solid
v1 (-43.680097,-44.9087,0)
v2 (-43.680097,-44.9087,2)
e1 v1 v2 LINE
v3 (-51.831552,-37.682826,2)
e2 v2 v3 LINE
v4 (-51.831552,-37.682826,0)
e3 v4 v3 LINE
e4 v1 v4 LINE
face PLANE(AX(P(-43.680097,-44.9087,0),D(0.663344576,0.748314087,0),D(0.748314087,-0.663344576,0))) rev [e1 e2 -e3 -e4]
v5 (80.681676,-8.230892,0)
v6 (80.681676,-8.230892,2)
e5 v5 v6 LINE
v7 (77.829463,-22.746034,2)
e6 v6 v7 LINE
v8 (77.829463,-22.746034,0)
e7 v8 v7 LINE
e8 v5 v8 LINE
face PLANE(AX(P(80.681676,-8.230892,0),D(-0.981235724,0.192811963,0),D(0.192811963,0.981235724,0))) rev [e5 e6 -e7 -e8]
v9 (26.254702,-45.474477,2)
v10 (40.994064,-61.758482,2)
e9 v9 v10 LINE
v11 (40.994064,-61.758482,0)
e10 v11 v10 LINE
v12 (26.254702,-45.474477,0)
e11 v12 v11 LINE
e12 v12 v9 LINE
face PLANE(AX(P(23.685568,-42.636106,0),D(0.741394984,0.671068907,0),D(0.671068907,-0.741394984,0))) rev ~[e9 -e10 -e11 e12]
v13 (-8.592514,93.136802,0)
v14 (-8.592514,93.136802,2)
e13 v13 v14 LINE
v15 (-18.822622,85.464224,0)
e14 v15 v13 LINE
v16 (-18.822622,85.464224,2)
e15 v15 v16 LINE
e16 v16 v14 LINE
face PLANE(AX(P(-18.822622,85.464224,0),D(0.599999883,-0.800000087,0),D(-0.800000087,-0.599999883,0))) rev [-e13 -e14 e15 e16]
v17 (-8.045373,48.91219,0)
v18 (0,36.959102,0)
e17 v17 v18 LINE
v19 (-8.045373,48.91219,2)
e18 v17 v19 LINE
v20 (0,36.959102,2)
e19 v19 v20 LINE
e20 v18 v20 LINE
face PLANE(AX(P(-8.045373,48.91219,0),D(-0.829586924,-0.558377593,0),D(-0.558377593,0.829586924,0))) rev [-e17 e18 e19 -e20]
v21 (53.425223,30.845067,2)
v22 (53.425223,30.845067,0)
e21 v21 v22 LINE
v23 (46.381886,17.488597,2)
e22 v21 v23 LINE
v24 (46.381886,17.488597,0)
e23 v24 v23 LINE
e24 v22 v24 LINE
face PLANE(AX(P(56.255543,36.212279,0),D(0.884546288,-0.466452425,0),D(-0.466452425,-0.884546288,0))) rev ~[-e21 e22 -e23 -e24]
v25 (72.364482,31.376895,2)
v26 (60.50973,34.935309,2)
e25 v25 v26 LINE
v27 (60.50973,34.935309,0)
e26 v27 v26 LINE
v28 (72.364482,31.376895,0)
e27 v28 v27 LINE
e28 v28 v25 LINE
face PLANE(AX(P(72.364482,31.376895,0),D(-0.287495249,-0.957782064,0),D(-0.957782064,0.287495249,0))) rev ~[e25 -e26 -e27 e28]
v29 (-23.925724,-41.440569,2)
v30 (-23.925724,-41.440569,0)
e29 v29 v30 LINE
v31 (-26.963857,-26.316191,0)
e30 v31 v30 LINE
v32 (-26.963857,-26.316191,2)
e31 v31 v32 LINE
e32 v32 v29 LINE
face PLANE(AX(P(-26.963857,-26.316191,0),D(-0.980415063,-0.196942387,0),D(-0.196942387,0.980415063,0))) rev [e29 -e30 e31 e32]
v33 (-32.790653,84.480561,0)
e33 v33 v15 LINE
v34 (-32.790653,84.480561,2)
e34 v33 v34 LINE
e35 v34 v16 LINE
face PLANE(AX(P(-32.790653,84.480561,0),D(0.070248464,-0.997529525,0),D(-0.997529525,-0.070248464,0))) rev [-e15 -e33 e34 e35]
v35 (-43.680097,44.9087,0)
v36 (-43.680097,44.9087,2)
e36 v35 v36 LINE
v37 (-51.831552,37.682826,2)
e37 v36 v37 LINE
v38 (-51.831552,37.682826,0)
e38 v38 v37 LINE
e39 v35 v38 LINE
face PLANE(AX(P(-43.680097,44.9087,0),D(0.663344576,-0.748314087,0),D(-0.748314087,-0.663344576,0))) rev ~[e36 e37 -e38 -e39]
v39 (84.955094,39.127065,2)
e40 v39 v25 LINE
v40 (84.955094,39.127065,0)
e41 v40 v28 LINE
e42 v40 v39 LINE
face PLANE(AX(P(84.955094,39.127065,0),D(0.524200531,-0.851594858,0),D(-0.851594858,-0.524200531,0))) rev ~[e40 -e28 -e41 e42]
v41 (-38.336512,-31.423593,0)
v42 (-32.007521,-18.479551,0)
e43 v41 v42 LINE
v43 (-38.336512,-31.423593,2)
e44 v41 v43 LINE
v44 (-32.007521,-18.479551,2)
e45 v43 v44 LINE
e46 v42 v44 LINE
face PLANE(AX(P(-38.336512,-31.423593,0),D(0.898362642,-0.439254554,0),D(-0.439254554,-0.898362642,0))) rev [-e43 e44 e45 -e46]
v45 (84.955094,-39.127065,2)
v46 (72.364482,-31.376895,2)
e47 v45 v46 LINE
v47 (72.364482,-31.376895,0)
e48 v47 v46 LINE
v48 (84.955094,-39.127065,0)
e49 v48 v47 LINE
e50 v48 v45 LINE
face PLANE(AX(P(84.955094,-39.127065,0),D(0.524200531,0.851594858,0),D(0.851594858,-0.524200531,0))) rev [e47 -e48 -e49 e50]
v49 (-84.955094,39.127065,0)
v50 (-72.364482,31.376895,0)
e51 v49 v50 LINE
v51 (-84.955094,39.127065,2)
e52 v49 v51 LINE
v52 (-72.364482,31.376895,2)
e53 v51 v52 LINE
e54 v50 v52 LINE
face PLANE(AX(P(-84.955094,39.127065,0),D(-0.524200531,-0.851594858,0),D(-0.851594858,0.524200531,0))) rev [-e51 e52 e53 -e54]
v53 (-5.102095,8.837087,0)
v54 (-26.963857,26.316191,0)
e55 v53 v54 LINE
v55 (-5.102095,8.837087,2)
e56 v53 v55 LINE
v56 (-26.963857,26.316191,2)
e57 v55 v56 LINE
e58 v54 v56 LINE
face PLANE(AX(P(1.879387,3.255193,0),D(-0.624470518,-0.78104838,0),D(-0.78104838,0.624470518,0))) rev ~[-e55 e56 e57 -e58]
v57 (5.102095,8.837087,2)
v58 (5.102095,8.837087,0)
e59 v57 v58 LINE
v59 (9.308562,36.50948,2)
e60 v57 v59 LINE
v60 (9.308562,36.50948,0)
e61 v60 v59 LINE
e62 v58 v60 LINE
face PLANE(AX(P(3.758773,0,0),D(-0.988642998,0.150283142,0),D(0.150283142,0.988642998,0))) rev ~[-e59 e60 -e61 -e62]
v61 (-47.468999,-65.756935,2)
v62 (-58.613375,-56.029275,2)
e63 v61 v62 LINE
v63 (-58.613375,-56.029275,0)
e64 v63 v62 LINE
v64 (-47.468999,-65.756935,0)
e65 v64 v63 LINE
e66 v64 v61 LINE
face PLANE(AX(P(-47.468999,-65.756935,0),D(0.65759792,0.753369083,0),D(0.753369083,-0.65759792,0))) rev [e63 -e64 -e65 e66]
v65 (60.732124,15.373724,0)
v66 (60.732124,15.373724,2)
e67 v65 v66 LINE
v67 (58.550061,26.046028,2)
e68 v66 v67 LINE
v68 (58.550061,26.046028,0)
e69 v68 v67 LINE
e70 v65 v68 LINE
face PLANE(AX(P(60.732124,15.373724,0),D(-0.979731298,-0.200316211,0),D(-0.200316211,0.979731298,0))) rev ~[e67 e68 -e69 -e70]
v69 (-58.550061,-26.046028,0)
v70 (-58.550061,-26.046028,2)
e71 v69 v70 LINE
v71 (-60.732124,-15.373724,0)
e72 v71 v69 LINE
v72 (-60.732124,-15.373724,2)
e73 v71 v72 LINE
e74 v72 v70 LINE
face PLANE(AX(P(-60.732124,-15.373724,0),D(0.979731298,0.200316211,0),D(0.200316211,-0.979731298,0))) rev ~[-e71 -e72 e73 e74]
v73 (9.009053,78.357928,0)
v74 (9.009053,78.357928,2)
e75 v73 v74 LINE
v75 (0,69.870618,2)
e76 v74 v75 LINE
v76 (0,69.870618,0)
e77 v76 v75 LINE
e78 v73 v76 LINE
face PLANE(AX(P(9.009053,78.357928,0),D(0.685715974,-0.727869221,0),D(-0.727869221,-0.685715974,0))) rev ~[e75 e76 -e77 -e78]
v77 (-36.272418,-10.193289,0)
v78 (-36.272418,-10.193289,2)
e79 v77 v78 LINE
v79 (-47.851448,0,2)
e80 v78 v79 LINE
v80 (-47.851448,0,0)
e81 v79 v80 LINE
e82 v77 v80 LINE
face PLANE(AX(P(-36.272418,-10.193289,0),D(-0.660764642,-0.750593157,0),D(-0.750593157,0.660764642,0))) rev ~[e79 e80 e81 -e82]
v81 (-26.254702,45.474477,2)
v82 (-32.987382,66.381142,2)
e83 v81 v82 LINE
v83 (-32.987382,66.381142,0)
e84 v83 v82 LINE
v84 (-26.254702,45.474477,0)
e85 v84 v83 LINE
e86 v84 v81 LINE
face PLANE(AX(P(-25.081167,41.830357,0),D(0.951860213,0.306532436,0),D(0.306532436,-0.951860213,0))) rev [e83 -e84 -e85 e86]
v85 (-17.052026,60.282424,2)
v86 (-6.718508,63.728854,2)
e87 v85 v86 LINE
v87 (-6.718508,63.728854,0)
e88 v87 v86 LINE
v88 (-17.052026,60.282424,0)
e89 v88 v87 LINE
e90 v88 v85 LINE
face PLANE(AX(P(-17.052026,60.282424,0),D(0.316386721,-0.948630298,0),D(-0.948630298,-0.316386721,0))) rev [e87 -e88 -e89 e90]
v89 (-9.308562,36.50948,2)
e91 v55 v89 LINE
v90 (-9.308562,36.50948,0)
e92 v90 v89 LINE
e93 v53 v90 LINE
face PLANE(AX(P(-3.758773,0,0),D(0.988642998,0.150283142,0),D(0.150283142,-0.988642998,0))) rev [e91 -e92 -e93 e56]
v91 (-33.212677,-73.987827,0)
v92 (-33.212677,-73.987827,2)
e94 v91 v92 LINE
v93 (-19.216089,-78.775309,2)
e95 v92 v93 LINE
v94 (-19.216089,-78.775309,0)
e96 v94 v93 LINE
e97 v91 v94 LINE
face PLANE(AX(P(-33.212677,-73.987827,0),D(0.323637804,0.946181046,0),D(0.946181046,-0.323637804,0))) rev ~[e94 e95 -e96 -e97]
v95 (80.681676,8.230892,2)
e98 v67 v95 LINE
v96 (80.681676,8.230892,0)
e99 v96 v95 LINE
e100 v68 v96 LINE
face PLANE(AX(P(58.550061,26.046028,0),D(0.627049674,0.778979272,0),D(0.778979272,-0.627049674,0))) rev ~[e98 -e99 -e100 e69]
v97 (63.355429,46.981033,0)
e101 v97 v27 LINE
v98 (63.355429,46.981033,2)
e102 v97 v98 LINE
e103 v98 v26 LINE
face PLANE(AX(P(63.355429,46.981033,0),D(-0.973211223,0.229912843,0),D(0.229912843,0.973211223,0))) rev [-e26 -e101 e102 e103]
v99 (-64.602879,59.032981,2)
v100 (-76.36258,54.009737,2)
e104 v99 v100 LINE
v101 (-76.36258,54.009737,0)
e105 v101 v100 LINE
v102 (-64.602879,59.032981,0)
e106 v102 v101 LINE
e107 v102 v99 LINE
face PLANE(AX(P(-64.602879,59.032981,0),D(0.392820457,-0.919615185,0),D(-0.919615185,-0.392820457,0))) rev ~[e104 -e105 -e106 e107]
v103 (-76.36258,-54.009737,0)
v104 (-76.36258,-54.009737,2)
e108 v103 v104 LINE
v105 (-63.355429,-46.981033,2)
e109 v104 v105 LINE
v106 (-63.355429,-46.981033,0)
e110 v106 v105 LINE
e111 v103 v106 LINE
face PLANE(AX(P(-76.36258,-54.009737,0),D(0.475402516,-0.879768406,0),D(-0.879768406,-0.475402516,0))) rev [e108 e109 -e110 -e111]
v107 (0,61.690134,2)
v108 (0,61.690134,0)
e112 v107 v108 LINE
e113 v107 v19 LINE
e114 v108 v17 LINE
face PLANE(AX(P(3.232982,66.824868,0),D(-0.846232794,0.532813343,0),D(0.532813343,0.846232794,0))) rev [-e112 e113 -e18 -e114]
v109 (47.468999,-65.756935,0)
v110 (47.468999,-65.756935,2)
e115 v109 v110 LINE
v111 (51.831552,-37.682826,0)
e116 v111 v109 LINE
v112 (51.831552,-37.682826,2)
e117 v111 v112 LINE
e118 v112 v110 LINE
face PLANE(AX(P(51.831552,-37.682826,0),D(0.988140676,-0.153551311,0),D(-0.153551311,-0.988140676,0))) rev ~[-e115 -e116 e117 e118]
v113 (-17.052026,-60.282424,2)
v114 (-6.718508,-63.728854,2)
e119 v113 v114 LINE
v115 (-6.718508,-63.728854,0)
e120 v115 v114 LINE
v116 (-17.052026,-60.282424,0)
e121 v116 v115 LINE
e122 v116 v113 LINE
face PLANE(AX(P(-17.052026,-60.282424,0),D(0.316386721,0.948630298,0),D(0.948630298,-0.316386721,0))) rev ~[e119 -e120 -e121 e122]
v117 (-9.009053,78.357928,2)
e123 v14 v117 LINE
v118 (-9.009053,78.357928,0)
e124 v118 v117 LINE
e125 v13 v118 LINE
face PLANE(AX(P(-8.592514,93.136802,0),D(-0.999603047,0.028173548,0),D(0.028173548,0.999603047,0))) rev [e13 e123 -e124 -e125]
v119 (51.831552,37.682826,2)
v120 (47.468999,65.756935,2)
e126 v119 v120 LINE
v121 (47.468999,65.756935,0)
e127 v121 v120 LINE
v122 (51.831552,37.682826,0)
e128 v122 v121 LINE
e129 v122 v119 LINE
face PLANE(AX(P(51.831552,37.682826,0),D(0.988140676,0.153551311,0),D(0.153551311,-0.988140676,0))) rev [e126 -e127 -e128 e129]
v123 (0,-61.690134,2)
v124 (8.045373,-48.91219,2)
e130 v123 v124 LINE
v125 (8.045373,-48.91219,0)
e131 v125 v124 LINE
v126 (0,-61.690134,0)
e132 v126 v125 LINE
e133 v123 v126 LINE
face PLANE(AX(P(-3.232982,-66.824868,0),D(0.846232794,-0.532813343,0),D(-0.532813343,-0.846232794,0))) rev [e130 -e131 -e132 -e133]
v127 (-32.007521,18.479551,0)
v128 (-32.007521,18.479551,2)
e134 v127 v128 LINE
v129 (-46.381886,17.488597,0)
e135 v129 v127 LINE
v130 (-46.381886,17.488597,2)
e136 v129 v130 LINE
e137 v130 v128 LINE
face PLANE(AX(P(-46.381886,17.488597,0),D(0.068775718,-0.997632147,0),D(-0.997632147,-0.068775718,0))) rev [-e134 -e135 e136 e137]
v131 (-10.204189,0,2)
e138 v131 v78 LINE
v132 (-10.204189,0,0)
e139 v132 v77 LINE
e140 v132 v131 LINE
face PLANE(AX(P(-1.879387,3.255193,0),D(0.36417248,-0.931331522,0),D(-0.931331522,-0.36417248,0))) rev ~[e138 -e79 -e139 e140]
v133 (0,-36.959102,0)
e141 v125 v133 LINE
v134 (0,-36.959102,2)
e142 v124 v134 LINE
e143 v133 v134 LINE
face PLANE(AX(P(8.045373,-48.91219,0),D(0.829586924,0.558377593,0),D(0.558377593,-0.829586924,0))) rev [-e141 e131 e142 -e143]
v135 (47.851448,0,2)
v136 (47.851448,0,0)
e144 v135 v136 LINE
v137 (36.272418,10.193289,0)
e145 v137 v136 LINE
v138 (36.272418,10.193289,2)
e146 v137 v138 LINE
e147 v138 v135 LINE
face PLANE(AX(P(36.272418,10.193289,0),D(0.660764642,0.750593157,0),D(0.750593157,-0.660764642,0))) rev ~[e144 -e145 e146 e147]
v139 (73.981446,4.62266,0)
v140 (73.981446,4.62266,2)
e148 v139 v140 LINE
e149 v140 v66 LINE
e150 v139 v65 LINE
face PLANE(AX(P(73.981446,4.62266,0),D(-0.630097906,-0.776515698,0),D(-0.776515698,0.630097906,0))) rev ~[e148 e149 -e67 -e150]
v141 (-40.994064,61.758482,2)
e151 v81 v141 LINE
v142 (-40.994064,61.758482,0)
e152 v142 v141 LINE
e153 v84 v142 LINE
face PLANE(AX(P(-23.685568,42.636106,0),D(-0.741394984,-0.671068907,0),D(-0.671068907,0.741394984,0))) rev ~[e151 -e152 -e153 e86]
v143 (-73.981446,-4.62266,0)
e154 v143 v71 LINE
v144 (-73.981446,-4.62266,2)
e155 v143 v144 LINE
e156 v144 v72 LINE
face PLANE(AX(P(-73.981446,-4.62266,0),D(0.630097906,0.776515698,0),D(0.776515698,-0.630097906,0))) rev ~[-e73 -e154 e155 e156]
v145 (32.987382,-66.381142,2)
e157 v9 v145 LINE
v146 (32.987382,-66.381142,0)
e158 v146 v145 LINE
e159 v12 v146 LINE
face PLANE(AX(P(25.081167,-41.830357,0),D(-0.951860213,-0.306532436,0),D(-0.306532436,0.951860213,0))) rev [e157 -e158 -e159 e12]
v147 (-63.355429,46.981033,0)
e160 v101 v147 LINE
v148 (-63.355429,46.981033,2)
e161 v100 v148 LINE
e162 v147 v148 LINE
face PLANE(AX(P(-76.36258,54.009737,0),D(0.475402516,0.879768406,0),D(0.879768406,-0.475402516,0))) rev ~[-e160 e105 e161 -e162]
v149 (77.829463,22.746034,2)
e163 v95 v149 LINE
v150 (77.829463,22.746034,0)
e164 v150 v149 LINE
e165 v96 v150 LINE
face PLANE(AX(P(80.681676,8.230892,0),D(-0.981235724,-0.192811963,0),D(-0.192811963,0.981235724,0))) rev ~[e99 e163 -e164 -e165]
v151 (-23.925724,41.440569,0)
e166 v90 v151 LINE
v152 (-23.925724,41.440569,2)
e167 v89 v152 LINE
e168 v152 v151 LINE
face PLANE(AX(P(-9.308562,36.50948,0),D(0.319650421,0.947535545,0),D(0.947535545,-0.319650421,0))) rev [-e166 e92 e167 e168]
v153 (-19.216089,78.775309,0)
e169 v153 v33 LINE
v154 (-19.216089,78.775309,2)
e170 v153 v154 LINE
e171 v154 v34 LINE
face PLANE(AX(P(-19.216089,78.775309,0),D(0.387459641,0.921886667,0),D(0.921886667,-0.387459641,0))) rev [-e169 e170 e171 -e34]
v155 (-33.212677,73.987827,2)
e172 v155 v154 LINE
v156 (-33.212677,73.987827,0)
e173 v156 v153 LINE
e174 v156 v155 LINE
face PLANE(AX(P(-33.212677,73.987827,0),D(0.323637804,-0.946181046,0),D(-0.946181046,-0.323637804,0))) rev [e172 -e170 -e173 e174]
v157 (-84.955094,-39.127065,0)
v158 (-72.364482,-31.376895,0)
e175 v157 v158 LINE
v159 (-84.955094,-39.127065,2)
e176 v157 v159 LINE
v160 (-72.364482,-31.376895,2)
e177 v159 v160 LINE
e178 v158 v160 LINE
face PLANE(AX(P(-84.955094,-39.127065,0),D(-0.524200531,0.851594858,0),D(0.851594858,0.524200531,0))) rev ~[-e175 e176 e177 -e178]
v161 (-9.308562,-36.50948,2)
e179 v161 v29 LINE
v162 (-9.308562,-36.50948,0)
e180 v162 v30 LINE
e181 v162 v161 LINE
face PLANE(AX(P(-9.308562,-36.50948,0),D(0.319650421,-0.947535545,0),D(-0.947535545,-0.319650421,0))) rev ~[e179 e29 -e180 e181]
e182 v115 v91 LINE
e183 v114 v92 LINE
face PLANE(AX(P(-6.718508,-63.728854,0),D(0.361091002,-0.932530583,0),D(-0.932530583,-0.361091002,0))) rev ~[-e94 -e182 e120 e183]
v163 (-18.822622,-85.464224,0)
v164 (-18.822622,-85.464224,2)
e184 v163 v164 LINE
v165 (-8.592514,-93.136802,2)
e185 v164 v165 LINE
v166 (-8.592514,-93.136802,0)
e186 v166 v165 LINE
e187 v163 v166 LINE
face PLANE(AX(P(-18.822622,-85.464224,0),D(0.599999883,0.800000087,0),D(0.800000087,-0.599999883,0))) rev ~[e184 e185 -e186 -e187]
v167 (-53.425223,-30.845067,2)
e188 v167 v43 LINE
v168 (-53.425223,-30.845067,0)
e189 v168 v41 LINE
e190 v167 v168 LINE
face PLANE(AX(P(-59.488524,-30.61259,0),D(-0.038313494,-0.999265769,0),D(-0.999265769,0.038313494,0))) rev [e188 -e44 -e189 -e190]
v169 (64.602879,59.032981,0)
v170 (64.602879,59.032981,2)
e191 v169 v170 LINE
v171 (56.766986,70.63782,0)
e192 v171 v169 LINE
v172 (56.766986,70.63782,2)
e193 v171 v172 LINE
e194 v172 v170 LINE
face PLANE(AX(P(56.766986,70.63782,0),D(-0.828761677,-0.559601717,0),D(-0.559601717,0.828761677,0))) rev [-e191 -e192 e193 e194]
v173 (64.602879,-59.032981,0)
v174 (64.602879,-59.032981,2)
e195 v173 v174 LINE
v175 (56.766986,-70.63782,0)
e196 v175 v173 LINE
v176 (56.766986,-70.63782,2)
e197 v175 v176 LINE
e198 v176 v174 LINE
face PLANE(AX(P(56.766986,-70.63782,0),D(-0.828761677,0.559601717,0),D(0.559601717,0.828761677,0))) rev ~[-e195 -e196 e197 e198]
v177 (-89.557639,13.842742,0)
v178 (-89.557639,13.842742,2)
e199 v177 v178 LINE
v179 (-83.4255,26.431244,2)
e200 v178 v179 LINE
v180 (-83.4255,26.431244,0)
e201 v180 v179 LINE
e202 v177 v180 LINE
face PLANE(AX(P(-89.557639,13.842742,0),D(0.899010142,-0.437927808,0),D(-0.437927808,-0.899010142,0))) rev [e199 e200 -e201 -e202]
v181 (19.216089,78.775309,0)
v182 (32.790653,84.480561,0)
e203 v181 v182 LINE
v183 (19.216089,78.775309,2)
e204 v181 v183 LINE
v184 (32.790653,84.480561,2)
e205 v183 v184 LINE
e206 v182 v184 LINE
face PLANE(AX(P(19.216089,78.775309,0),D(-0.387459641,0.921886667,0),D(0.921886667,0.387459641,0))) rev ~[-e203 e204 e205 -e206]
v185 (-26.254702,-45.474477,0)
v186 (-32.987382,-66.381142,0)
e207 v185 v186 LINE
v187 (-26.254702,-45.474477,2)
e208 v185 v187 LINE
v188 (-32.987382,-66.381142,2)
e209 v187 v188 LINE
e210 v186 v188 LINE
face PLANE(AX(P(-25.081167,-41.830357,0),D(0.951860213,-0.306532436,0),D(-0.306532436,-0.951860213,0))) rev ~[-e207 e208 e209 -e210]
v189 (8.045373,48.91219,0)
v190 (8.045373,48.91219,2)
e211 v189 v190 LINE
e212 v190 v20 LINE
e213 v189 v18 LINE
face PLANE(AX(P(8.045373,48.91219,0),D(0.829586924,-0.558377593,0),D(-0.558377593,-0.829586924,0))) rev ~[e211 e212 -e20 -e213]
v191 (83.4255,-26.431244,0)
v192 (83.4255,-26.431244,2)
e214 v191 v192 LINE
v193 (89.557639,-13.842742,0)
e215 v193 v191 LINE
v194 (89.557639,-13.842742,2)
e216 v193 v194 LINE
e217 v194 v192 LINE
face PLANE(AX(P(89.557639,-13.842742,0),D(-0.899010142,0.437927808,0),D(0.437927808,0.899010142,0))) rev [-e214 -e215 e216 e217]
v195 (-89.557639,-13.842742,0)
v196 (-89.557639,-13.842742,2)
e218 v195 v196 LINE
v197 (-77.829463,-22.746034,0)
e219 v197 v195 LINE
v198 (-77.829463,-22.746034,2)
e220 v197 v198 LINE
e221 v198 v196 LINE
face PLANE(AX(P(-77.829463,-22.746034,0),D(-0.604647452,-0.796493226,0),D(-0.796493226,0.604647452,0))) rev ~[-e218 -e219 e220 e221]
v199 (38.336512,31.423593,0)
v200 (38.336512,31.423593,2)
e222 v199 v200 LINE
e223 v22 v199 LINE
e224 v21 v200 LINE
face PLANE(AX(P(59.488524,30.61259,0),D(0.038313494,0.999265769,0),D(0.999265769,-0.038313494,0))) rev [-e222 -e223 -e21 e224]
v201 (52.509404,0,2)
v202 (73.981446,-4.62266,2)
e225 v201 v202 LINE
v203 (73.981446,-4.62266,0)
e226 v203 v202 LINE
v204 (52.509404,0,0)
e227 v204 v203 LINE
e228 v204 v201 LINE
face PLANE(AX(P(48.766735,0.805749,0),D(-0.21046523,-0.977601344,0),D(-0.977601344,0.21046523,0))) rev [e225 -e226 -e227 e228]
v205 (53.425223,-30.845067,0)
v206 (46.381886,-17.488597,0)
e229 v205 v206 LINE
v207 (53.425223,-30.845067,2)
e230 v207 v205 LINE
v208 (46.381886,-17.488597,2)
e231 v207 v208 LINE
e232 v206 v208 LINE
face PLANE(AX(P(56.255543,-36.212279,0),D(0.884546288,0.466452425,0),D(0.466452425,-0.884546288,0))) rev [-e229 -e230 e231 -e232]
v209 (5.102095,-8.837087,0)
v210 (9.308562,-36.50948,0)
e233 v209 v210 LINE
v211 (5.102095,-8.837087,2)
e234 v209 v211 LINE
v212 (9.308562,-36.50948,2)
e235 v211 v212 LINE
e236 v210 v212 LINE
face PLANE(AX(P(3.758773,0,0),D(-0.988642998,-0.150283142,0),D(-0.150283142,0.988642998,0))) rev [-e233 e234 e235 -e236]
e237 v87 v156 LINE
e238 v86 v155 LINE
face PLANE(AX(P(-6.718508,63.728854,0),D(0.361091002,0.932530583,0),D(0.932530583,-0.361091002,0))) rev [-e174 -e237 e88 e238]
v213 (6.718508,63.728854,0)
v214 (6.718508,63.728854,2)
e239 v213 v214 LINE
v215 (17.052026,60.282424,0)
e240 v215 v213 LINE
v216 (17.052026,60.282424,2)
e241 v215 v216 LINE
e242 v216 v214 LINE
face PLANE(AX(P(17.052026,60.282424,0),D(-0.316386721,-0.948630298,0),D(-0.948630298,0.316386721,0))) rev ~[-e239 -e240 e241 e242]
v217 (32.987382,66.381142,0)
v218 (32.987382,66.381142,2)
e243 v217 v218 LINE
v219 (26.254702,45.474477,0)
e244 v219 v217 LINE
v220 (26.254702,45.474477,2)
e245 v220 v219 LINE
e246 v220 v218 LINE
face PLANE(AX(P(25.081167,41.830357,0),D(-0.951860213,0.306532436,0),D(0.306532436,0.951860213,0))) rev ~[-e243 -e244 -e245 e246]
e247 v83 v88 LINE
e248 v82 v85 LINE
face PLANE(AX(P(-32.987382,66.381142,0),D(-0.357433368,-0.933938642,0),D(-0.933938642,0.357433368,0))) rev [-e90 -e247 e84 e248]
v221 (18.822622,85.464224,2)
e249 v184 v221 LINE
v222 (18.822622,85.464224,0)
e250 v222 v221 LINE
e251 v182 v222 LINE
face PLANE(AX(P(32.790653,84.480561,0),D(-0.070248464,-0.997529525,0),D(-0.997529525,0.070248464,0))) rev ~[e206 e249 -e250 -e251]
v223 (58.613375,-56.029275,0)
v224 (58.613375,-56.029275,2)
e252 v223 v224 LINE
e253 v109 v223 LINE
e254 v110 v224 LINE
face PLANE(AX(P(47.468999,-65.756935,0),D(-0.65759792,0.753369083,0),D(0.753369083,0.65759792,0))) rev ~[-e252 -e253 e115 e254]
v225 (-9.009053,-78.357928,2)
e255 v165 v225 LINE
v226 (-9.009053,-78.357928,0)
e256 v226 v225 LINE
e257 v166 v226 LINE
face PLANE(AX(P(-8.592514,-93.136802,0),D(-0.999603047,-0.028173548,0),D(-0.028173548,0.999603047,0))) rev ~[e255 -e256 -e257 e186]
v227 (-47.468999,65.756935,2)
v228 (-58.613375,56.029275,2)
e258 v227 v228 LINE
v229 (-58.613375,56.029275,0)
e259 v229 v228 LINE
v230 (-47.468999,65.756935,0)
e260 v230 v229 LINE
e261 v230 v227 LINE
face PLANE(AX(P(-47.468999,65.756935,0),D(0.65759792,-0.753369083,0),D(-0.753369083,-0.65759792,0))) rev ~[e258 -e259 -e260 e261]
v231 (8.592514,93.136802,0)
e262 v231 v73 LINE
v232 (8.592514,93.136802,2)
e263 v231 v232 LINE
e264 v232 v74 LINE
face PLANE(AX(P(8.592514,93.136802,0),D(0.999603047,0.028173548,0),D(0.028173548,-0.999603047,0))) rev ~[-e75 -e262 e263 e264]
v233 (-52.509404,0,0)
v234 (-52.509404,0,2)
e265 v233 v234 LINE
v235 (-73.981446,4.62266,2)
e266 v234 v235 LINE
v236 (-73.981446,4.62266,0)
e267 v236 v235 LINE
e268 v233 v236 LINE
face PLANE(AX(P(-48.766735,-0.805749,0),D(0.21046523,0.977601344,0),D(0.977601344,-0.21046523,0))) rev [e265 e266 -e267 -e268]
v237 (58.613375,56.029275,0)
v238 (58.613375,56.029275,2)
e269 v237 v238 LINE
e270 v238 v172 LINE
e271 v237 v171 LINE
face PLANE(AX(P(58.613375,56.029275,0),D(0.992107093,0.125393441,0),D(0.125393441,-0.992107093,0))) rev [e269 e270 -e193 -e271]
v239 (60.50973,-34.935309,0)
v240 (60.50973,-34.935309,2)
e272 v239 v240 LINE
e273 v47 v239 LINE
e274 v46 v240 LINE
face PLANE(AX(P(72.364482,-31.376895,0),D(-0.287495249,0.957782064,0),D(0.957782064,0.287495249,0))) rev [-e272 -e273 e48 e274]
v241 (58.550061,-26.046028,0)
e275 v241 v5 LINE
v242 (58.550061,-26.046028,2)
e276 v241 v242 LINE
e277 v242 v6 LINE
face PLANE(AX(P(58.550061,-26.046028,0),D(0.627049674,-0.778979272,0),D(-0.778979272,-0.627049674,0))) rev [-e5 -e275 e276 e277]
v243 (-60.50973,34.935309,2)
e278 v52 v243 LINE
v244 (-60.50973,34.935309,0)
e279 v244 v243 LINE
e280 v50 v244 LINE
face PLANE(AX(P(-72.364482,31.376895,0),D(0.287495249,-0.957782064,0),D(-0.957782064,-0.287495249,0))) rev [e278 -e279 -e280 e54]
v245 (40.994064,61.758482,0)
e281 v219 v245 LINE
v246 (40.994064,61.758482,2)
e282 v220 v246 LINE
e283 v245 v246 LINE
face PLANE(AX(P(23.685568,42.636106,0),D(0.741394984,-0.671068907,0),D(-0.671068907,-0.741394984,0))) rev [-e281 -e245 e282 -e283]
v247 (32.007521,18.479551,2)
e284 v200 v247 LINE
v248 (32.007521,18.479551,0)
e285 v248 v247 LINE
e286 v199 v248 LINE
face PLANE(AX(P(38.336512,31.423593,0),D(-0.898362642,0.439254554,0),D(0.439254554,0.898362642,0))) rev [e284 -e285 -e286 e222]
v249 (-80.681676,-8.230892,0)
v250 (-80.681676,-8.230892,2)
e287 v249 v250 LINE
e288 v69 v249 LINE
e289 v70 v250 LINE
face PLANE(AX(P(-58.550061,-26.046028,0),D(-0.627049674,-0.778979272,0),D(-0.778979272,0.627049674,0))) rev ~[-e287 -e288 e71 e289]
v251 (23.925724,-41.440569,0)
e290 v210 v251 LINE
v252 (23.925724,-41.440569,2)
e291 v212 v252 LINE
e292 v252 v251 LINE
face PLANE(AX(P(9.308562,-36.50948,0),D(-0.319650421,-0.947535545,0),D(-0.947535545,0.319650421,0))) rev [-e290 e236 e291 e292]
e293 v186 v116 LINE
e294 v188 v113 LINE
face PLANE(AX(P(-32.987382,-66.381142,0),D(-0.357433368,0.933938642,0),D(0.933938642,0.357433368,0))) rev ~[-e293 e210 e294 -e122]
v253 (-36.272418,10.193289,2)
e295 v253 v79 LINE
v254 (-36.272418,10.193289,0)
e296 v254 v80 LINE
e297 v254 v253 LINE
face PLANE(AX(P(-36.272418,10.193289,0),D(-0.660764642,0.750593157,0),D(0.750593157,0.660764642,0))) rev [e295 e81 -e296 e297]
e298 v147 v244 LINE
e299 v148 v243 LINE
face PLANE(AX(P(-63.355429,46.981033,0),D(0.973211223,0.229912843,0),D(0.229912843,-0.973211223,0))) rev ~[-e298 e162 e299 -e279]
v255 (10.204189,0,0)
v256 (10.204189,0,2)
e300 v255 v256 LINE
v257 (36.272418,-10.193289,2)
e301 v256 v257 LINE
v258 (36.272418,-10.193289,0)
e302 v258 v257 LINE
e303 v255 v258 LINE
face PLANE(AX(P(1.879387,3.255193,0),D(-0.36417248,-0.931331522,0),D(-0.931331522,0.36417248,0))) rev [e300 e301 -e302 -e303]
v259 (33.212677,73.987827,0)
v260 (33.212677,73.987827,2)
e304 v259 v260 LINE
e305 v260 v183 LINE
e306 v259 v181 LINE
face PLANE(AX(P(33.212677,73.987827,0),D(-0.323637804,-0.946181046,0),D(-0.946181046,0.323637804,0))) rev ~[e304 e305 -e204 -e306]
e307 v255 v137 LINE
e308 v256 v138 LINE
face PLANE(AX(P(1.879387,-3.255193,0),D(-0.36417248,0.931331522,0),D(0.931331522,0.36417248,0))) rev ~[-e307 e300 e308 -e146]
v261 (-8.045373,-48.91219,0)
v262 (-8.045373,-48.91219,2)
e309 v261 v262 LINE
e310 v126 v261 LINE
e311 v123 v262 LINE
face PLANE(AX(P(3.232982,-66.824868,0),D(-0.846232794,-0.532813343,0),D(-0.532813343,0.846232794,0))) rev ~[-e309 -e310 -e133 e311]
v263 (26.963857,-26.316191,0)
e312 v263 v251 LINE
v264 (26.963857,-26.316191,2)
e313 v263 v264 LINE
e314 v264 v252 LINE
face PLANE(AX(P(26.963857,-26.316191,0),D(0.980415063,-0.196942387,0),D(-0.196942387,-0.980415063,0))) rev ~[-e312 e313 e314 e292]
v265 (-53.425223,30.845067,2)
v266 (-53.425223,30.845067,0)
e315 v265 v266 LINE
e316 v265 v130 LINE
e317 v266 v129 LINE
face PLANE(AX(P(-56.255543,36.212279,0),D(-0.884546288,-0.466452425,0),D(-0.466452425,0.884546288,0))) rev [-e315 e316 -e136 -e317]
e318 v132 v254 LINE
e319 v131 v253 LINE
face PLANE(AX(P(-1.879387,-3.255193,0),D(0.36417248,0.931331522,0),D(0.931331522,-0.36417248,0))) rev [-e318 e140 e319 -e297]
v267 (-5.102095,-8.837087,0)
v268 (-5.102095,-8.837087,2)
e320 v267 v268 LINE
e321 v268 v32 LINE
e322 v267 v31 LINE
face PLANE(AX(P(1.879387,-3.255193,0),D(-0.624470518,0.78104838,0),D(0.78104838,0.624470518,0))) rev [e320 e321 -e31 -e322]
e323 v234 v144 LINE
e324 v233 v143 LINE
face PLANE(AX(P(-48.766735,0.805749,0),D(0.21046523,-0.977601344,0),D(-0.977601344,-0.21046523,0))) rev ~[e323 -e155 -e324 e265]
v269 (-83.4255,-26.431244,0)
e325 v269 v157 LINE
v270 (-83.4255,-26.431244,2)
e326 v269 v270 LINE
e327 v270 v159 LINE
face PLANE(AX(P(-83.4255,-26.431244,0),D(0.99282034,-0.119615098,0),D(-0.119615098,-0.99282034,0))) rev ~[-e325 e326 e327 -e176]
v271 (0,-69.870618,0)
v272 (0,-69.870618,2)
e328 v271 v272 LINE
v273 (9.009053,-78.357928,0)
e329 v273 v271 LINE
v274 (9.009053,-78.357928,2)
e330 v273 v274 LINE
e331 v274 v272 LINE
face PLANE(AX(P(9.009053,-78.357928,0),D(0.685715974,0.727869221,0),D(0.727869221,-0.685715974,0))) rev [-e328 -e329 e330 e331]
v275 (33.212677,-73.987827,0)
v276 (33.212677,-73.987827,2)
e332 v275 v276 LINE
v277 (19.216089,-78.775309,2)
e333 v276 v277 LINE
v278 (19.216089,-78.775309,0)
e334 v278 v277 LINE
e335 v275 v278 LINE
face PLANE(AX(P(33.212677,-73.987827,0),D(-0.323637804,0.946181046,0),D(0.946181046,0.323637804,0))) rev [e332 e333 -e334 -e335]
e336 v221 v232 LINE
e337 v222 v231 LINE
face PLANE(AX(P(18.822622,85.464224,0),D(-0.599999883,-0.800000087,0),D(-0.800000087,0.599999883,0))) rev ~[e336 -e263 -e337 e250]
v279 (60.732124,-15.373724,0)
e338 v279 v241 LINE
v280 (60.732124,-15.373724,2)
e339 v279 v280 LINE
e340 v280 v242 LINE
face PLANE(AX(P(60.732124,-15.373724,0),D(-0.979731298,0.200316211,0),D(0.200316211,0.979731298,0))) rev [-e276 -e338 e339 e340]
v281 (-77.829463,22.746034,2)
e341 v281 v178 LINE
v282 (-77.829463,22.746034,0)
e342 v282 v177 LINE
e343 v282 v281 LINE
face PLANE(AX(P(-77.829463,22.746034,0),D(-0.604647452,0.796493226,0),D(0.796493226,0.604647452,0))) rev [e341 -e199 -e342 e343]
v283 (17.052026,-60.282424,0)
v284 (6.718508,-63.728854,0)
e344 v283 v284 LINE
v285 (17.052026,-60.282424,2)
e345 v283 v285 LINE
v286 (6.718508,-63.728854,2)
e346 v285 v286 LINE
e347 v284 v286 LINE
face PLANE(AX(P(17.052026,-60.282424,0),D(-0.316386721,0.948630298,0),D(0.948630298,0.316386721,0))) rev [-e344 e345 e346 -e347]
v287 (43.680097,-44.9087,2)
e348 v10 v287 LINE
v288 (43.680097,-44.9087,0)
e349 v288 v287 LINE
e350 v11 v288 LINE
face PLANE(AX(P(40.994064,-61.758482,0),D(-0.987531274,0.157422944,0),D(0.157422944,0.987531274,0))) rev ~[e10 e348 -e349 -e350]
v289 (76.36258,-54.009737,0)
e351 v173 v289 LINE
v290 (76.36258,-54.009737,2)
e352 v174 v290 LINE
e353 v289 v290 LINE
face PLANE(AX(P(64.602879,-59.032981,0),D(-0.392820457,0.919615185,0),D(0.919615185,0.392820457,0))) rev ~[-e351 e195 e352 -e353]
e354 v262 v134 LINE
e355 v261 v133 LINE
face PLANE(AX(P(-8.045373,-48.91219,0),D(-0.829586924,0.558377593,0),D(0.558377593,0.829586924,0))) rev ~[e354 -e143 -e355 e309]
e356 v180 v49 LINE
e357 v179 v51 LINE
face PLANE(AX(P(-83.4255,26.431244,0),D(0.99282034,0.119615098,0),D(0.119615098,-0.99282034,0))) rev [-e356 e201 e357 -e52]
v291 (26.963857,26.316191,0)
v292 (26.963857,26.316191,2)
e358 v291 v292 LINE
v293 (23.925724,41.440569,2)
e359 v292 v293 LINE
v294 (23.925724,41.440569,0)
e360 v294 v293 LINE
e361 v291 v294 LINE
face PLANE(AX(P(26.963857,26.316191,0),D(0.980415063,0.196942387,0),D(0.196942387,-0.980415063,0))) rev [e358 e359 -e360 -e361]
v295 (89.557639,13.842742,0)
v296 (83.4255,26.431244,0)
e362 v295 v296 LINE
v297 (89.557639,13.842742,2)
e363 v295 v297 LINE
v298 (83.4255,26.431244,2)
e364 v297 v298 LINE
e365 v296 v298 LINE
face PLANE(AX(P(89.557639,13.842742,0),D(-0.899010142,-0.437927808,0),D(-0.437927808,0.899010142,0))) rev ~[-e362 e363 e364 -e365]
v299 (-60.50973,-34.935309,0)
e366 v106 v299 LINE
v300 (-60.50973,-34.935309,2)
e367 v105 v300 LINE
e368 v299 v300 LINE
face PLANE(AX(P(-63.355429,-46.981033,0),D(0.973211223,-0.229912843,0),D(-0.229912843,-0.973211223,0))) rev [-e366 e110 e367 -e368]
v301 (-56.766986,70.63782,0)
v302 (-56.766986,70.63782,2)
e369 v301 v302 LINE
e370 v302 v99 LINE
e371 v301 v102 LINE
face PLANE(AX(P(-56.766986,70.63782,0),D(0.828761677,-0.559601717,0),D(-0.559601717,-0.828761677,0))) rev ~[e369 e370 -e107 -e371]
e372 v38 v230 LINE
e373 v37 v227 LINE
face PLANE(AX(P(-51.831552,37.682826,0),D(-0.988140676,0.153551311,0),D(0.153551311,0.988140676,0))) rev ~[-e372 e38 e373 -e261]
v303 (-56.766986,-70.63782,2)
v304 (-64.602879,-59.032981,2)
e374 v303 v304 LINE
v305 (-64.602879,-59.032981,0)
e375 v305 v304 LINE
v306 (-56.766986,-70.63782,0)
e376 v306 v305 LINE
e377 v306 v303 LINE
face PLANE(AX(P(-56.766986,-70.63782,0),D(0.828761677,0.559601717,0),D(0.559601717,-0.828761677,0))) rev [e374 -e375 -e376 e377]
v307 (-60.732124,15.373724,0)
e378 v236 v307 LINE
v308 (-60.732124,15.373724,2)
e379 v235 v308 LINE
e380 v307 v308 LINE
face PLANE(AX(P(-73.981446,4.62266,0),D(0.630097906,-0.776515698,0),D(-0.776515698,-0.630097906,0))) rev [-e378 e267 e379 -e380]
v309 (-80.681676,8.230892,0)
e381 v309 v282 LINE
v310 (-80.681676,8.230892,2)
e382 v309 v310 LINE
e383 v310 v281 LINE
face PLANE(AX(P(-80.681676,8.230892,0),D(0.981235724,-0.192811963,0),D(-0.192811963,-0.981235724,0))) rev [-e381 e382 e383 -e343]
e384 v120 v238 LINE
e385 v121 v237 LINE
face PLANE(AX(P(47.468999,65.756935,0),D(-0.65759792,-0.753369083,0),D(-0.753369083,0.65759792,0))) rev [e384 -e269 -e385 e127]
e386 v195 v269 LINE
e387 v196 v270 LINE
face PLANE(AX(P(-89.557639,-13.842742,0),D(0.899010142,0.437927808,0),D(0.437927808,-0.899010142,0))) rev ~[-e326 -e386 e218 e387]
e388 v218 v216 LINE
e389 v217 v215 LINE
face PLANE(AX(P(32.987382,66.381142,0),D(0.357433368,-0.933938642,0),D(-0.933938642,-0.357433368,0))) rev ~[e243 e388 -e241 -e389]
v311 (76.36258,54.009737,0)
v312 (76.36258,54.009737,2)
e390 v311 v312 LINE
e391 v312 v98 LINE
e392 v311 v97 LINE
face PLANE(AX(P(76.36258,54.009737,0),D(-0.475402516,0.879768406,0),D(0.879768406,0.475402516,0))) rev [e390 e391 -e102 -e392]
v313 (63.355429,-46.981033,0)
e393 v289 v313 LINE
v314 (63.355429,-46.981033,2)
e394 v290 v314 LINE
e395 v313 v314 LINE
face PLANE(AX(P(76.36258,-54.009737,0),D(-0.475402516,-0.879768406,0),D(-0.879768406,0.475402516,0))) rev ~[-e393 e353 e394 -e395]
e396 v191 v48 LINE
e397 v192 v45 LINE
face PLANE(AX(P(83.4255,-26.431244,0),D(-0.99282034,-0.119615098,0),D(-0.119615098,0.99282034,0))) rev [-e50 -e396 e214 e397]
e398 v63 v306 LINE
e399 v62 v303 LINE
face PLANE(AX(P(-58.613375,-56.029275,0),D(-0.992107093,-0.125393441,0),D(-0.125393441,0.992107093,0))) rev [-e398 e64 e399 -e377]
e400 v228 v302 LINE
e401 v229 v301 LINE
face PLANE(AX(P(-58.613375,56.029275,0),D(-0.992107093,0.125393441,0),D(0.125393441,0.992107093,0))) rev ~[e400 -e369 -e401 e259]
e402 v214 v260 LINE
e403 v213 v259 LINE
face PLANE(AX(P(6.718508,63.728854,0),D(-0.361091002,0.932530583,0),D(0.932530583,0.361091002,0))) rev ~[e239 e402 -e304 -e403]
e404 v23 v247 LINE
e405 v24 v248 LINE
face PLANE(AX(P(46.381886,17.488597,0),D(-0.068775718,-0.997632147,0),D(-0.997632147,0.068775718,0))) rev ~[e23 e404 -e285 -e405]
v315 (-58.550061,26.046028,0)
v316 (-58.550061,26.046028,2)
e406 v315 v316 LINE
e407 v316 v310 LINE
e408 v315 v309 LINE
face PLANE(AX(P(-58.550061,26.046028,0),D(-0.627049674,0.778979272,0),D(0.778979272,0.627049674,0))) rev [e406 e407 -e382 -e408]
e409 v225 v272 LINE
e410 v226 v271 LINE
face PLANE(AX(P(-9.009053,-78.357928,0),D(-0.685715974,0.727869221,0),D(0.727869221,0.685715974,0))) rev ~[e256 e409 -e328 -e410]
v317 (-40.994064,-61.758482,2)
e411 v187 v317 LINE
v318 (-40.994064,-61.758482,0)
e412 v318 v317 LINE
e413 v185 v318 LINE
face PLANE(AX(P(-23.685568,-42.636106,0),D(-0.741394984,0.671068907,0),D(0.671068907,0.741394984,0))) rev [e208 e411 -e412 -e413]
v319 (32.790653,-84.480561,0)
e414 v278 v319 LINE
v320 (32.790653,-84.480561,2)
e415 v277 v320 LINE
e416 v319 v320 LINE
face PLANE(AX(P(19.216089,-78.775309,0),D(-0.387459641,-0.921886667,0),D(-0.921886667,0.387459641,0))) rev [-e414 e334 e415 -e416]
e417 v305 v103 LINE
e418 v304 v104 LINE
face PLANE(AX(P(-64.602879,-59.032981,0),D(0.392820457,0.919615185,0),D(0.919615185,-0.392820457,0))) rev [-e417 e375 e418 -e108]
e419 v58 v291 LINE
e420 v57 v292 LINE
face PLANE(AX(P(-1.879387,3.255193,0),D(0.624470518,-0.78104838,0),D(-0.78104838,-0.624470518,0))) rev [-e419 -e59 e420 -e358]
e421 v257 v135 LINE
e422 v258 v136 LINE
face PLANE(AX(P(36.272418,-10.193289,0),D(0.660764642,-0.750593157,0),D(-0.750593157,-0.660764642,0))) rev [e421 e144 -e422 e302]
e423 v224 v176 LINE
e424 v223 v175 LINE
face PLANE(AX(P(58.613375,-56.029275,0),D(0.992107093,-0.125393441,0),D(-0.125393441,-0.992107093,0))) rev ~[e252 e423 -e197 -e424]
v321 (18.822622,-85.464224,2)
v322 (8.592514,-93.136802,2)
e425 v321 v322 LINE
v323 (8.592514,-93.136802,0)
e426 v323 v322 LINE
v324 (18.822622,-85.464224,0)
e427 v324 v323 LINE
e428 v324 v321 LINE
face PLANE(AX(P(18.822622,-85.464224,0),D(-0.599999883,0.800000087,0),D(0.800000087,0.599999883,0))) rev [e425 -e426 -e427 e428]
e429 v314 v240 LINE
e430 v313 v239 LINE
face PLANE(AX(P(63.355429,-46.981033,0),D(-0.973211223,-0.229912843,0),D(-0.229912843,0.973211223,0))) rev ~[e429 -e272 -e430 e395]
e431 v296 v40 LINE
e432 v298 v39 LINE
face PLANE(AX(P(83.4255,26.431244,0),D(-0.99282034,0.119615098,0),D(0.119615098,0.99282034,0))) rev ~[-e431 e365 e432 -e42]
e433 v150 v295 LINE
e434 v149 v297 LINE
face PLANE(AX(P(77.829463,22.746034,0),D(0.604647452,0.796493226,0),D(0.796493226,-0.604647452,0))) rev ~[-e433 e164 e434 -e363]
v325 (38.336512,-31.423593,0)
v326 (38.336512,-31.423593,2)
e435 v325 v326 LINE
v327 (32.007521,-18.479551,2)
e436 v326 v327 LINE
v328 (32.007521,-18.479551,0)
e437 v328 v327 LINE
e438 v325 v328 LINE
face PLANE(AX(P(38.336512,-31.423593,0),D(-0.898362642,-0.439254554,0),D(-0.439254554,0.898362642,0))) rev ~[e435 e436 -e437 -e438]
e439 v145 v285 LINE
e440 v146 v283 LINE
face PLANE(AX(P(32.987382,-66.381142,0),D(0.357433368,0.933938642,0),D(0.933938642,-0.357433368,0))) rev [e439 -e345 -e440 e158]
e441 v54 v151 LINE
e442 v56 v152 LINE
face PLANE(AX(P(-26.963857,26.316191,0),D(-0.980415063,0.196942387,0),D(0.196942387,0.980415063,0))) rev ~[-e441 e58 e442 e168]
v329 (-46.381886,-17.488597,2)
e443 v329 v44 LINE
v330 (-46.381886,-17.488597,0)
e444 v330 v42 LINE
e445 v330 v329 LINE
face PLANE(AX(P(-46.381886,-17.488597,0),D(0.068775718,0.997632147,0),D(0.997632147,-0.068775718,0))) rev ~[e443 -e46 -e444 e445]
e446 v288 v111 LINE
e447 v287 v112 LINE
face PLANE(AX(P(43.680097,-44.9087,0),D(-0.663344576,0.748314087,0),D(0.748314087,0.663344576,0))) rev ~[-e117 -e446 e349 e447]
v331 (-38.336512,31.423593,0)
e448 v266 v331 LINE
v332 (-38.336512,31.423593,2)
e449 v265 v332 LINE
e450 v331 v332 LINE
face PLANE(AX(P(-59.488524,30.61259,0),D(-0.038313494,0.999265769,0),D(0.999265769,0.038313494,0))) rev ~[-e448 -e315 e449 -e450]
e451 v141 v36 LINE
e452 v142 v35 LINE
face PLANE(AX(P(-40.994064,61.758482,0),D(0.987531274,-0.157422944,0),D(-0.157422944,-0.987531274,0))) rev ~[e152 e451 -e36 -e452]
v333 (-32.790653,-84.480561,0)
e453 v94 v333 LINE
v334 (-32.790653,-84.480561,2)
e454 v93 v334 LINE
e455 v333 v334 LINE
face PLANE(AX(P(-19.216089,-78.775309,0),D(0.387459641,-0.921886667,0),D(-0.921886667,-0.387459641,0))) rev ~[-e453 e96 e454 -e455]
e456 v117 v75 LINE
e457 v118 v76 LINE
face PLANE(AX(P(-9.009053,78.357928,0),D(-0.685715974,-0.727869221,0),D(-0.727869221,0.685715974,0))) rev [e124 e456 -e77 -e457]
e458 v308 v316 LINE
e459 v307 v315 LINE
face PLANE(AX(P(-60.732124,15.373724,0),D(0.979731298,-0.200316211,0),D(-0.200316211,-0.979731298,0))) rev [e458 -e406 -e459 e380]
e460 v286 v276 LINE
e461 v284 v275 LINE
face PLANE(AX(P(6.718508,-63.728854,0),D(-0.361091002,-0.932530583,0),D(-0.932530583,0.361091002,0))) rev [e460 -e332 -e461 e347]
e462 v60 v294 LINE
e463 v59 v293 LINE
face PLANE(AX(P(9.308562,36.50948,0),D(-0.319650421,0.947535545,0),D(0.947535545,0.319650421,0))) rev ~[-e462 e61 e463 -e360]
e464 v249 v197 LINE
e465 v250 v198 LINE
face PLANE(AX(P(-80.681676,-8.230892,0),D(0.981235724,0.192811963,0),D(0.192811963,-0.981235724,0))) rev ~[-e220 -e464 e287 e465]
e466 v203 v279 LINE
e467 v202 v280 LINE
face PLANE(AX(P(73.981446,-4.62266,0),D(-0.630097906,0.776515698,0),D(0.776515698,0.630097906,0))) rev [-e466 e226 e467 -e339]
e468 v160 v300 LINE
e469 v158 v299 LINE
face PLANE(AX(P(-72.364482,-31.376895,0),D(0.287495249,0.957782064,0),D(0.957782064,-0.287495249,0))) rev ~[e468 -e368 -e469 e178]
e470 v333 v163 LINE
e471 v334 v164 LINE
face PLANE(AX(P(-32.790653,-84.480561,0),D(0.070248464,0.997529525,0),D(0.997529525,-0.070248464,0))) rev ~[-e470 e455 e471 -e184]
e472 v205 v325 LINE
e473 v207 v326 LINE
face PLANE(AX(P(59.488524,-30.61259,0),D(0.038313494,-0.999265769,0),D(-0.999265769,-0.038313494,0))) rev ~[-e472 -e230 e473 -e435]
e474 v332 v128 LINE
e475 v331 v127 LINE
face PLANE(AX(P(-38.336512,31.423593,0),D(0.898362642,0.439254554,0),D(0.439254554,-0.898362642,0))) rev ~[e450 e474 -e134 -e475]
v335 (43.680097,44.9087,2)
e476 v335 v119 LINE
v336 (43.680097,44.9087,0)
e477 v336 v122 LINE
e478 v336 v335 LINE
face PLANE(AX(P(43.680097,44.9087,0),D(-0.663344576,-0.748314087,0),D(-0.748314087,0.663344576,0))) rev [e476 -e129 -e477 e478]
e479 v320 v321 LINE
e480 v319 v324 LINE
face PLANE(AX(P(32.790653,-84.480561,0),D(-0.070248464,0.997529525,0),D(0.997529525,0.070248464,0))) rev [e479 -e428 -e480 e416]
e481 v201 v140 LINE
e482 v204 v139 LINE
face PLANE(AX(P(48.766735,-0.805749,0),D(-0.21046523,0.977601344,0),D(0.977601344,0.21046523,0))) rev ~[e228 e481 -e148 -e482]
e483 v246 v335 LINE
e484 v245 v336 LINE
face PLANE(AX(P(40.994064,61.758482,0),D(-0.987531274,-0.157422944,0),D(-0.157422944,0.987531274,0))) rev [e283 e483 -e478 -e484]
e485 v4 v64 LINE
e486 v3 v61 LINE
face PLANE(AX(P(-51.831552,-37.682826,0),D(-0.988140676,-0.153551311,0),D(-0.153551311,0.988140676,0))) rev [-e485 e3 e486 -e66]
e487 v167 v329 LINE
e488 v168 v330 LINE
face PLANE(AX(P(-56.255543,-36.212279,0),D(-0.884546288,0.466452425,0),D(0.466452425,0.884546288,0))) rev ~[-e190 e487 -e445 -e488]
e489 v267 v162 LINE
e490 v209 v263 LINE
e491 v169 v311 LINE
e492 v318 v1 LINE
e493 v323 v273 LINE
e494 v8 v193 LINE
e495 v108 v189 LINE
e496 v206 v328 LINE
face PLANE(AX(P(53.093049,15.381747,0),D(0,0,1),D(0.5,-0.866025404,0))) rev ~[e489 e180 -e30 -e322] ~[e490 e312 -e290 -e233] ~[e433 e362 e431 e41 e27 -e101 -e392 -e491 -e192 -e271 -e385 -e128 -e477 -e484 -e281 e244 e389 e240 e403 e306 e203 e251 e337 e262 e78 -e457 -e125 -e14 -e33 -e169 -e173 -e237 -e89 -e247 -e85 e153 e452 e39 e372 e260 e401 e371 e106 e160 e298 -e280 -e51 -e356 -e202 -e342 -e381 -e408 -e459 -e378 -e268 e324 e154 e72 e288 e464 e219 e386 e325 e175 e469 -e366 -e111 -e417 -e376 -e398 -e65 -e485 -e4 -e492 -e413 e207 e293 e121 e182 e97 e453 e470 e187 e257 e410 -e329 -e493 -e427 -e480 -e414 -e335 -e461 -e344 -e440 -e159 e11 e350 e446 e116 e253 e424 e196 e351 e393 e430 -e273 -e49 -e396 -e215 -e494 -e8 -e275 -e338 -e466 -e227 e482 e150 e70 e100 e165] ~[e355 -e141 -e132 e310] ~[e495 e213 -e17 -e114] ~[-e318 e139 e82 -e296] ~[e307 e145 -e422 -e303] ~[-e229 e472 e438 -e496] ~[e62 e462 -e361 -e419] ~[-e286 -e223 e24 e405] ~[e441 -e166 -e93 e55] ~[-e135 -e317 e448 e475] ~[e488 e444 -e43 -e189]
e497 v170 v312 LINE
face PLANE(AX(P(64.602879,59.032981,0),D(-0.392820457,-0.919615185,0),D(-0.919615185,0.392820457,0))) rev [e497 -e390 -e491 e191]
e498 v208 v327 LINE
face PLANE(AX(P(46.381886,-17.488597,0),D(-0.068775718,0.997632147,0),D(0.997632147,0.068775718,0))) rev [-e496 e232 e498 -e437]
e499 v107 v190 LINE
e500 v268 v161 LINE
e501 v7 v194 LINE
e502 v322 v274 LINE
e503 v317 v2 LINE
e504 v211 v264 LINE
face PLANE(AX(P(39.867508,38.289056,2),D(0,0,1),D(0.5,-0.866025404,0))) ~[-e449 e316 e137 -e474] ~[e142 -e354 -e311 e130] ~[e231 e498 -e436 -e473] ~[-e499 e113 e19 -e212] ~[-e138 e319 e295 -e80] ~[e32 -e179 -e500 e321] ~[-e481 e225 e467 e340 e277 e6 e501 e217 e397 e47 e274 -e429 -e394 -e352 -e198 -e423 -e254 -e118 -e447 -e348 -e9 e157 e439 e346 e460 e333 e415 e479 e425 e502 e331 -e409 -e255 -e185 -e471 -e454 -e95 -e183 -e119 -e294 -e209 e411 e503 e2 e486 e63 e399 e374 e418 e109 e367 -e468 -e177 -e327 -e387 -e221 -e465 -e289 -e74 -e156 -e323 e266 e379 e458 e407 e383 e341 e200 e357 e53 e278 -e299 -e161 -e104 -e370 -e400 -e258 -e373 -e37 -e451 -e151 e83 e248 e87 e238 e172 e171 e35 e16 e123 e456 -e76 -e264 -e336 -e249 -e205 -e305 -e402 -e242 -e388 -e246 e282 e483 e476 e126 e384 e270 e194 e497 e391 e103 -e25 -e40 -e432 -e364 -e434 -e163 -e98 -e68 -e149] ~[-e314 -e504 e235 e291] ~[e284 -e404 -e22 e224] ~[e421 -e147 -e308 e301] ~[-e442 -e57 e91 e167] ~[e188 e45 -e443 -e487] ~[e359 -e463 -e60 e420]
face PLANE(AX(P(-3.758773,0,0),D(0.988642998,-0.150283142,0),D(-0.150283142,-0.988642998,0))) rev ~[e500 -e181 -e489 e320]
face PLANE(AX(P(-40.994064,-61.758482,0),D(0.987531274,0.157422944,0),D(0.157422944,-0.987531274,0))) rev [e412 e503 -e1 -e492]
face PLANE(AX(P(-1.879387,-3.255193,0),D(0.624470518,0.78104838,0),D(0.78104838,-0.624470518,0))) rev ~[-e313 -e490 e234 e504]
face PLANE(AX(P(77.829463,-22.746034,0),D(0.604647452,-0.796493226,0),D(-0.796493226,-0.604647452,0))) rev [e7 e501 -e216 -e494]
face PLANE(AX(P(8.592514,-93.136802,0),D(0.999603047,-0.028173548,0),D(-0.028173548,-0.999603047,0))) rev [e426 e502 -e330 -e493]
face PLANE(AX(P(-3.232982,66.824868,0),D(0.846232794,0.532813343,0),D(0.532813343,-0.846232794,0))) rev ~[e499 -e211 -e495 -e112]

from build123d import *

# Parameters (mm, degrees)
F1_DEPTH = 2
F4_COUNT = 6
F4_ANGLE = 300


with BuildPart() as f1:
    # F0 (on Top) → F1 (new body)
    with BuildSketch(Plane.XY):
        Polygon((-3.2329817768, 66.8248683214), (8.0453734845, 48.9121899009), (-2.093318617, 33.8490381837), (0, 13.6142224073), (0, 0), (3.7587733038, 0), (9.3085616827, 36.5094803274), (25.0811669976, 41.8303571641), (32.9873822629, 66.3811415434), (17.0520264655, 60.2824240923), (6.7185084336, 63.7288540602), (33.2126766443, 73.987826705), (19.2160885781, 78.7753090262), (32.7906534076, 84.480561316), (18.8226215541, 85.4642242193), (8.5925143212, 93.1368023157), (9.0090529993, 78.3579275012), align=None)
    extrude(amount=F1_DEPTH)

    # F2: F1 across plane


with BuildPart() as f1_1:
    add(f1.part)
    add(f1.part.mirror(Plane.YZ))

    # F4: F1 ×6 about axis
    f4_axis = Axis((0, 0, 4.1130185127), (0, 0, 1))


with BuildPart() as f1_2:
    add(f1_1.part)
    for i in range(1, F4_COUNT):
        add(f1_1.part.rotate(f4_axis, i * F4_ANGLE / (F4_COUNT - 1)))


solid = f1_2.part
